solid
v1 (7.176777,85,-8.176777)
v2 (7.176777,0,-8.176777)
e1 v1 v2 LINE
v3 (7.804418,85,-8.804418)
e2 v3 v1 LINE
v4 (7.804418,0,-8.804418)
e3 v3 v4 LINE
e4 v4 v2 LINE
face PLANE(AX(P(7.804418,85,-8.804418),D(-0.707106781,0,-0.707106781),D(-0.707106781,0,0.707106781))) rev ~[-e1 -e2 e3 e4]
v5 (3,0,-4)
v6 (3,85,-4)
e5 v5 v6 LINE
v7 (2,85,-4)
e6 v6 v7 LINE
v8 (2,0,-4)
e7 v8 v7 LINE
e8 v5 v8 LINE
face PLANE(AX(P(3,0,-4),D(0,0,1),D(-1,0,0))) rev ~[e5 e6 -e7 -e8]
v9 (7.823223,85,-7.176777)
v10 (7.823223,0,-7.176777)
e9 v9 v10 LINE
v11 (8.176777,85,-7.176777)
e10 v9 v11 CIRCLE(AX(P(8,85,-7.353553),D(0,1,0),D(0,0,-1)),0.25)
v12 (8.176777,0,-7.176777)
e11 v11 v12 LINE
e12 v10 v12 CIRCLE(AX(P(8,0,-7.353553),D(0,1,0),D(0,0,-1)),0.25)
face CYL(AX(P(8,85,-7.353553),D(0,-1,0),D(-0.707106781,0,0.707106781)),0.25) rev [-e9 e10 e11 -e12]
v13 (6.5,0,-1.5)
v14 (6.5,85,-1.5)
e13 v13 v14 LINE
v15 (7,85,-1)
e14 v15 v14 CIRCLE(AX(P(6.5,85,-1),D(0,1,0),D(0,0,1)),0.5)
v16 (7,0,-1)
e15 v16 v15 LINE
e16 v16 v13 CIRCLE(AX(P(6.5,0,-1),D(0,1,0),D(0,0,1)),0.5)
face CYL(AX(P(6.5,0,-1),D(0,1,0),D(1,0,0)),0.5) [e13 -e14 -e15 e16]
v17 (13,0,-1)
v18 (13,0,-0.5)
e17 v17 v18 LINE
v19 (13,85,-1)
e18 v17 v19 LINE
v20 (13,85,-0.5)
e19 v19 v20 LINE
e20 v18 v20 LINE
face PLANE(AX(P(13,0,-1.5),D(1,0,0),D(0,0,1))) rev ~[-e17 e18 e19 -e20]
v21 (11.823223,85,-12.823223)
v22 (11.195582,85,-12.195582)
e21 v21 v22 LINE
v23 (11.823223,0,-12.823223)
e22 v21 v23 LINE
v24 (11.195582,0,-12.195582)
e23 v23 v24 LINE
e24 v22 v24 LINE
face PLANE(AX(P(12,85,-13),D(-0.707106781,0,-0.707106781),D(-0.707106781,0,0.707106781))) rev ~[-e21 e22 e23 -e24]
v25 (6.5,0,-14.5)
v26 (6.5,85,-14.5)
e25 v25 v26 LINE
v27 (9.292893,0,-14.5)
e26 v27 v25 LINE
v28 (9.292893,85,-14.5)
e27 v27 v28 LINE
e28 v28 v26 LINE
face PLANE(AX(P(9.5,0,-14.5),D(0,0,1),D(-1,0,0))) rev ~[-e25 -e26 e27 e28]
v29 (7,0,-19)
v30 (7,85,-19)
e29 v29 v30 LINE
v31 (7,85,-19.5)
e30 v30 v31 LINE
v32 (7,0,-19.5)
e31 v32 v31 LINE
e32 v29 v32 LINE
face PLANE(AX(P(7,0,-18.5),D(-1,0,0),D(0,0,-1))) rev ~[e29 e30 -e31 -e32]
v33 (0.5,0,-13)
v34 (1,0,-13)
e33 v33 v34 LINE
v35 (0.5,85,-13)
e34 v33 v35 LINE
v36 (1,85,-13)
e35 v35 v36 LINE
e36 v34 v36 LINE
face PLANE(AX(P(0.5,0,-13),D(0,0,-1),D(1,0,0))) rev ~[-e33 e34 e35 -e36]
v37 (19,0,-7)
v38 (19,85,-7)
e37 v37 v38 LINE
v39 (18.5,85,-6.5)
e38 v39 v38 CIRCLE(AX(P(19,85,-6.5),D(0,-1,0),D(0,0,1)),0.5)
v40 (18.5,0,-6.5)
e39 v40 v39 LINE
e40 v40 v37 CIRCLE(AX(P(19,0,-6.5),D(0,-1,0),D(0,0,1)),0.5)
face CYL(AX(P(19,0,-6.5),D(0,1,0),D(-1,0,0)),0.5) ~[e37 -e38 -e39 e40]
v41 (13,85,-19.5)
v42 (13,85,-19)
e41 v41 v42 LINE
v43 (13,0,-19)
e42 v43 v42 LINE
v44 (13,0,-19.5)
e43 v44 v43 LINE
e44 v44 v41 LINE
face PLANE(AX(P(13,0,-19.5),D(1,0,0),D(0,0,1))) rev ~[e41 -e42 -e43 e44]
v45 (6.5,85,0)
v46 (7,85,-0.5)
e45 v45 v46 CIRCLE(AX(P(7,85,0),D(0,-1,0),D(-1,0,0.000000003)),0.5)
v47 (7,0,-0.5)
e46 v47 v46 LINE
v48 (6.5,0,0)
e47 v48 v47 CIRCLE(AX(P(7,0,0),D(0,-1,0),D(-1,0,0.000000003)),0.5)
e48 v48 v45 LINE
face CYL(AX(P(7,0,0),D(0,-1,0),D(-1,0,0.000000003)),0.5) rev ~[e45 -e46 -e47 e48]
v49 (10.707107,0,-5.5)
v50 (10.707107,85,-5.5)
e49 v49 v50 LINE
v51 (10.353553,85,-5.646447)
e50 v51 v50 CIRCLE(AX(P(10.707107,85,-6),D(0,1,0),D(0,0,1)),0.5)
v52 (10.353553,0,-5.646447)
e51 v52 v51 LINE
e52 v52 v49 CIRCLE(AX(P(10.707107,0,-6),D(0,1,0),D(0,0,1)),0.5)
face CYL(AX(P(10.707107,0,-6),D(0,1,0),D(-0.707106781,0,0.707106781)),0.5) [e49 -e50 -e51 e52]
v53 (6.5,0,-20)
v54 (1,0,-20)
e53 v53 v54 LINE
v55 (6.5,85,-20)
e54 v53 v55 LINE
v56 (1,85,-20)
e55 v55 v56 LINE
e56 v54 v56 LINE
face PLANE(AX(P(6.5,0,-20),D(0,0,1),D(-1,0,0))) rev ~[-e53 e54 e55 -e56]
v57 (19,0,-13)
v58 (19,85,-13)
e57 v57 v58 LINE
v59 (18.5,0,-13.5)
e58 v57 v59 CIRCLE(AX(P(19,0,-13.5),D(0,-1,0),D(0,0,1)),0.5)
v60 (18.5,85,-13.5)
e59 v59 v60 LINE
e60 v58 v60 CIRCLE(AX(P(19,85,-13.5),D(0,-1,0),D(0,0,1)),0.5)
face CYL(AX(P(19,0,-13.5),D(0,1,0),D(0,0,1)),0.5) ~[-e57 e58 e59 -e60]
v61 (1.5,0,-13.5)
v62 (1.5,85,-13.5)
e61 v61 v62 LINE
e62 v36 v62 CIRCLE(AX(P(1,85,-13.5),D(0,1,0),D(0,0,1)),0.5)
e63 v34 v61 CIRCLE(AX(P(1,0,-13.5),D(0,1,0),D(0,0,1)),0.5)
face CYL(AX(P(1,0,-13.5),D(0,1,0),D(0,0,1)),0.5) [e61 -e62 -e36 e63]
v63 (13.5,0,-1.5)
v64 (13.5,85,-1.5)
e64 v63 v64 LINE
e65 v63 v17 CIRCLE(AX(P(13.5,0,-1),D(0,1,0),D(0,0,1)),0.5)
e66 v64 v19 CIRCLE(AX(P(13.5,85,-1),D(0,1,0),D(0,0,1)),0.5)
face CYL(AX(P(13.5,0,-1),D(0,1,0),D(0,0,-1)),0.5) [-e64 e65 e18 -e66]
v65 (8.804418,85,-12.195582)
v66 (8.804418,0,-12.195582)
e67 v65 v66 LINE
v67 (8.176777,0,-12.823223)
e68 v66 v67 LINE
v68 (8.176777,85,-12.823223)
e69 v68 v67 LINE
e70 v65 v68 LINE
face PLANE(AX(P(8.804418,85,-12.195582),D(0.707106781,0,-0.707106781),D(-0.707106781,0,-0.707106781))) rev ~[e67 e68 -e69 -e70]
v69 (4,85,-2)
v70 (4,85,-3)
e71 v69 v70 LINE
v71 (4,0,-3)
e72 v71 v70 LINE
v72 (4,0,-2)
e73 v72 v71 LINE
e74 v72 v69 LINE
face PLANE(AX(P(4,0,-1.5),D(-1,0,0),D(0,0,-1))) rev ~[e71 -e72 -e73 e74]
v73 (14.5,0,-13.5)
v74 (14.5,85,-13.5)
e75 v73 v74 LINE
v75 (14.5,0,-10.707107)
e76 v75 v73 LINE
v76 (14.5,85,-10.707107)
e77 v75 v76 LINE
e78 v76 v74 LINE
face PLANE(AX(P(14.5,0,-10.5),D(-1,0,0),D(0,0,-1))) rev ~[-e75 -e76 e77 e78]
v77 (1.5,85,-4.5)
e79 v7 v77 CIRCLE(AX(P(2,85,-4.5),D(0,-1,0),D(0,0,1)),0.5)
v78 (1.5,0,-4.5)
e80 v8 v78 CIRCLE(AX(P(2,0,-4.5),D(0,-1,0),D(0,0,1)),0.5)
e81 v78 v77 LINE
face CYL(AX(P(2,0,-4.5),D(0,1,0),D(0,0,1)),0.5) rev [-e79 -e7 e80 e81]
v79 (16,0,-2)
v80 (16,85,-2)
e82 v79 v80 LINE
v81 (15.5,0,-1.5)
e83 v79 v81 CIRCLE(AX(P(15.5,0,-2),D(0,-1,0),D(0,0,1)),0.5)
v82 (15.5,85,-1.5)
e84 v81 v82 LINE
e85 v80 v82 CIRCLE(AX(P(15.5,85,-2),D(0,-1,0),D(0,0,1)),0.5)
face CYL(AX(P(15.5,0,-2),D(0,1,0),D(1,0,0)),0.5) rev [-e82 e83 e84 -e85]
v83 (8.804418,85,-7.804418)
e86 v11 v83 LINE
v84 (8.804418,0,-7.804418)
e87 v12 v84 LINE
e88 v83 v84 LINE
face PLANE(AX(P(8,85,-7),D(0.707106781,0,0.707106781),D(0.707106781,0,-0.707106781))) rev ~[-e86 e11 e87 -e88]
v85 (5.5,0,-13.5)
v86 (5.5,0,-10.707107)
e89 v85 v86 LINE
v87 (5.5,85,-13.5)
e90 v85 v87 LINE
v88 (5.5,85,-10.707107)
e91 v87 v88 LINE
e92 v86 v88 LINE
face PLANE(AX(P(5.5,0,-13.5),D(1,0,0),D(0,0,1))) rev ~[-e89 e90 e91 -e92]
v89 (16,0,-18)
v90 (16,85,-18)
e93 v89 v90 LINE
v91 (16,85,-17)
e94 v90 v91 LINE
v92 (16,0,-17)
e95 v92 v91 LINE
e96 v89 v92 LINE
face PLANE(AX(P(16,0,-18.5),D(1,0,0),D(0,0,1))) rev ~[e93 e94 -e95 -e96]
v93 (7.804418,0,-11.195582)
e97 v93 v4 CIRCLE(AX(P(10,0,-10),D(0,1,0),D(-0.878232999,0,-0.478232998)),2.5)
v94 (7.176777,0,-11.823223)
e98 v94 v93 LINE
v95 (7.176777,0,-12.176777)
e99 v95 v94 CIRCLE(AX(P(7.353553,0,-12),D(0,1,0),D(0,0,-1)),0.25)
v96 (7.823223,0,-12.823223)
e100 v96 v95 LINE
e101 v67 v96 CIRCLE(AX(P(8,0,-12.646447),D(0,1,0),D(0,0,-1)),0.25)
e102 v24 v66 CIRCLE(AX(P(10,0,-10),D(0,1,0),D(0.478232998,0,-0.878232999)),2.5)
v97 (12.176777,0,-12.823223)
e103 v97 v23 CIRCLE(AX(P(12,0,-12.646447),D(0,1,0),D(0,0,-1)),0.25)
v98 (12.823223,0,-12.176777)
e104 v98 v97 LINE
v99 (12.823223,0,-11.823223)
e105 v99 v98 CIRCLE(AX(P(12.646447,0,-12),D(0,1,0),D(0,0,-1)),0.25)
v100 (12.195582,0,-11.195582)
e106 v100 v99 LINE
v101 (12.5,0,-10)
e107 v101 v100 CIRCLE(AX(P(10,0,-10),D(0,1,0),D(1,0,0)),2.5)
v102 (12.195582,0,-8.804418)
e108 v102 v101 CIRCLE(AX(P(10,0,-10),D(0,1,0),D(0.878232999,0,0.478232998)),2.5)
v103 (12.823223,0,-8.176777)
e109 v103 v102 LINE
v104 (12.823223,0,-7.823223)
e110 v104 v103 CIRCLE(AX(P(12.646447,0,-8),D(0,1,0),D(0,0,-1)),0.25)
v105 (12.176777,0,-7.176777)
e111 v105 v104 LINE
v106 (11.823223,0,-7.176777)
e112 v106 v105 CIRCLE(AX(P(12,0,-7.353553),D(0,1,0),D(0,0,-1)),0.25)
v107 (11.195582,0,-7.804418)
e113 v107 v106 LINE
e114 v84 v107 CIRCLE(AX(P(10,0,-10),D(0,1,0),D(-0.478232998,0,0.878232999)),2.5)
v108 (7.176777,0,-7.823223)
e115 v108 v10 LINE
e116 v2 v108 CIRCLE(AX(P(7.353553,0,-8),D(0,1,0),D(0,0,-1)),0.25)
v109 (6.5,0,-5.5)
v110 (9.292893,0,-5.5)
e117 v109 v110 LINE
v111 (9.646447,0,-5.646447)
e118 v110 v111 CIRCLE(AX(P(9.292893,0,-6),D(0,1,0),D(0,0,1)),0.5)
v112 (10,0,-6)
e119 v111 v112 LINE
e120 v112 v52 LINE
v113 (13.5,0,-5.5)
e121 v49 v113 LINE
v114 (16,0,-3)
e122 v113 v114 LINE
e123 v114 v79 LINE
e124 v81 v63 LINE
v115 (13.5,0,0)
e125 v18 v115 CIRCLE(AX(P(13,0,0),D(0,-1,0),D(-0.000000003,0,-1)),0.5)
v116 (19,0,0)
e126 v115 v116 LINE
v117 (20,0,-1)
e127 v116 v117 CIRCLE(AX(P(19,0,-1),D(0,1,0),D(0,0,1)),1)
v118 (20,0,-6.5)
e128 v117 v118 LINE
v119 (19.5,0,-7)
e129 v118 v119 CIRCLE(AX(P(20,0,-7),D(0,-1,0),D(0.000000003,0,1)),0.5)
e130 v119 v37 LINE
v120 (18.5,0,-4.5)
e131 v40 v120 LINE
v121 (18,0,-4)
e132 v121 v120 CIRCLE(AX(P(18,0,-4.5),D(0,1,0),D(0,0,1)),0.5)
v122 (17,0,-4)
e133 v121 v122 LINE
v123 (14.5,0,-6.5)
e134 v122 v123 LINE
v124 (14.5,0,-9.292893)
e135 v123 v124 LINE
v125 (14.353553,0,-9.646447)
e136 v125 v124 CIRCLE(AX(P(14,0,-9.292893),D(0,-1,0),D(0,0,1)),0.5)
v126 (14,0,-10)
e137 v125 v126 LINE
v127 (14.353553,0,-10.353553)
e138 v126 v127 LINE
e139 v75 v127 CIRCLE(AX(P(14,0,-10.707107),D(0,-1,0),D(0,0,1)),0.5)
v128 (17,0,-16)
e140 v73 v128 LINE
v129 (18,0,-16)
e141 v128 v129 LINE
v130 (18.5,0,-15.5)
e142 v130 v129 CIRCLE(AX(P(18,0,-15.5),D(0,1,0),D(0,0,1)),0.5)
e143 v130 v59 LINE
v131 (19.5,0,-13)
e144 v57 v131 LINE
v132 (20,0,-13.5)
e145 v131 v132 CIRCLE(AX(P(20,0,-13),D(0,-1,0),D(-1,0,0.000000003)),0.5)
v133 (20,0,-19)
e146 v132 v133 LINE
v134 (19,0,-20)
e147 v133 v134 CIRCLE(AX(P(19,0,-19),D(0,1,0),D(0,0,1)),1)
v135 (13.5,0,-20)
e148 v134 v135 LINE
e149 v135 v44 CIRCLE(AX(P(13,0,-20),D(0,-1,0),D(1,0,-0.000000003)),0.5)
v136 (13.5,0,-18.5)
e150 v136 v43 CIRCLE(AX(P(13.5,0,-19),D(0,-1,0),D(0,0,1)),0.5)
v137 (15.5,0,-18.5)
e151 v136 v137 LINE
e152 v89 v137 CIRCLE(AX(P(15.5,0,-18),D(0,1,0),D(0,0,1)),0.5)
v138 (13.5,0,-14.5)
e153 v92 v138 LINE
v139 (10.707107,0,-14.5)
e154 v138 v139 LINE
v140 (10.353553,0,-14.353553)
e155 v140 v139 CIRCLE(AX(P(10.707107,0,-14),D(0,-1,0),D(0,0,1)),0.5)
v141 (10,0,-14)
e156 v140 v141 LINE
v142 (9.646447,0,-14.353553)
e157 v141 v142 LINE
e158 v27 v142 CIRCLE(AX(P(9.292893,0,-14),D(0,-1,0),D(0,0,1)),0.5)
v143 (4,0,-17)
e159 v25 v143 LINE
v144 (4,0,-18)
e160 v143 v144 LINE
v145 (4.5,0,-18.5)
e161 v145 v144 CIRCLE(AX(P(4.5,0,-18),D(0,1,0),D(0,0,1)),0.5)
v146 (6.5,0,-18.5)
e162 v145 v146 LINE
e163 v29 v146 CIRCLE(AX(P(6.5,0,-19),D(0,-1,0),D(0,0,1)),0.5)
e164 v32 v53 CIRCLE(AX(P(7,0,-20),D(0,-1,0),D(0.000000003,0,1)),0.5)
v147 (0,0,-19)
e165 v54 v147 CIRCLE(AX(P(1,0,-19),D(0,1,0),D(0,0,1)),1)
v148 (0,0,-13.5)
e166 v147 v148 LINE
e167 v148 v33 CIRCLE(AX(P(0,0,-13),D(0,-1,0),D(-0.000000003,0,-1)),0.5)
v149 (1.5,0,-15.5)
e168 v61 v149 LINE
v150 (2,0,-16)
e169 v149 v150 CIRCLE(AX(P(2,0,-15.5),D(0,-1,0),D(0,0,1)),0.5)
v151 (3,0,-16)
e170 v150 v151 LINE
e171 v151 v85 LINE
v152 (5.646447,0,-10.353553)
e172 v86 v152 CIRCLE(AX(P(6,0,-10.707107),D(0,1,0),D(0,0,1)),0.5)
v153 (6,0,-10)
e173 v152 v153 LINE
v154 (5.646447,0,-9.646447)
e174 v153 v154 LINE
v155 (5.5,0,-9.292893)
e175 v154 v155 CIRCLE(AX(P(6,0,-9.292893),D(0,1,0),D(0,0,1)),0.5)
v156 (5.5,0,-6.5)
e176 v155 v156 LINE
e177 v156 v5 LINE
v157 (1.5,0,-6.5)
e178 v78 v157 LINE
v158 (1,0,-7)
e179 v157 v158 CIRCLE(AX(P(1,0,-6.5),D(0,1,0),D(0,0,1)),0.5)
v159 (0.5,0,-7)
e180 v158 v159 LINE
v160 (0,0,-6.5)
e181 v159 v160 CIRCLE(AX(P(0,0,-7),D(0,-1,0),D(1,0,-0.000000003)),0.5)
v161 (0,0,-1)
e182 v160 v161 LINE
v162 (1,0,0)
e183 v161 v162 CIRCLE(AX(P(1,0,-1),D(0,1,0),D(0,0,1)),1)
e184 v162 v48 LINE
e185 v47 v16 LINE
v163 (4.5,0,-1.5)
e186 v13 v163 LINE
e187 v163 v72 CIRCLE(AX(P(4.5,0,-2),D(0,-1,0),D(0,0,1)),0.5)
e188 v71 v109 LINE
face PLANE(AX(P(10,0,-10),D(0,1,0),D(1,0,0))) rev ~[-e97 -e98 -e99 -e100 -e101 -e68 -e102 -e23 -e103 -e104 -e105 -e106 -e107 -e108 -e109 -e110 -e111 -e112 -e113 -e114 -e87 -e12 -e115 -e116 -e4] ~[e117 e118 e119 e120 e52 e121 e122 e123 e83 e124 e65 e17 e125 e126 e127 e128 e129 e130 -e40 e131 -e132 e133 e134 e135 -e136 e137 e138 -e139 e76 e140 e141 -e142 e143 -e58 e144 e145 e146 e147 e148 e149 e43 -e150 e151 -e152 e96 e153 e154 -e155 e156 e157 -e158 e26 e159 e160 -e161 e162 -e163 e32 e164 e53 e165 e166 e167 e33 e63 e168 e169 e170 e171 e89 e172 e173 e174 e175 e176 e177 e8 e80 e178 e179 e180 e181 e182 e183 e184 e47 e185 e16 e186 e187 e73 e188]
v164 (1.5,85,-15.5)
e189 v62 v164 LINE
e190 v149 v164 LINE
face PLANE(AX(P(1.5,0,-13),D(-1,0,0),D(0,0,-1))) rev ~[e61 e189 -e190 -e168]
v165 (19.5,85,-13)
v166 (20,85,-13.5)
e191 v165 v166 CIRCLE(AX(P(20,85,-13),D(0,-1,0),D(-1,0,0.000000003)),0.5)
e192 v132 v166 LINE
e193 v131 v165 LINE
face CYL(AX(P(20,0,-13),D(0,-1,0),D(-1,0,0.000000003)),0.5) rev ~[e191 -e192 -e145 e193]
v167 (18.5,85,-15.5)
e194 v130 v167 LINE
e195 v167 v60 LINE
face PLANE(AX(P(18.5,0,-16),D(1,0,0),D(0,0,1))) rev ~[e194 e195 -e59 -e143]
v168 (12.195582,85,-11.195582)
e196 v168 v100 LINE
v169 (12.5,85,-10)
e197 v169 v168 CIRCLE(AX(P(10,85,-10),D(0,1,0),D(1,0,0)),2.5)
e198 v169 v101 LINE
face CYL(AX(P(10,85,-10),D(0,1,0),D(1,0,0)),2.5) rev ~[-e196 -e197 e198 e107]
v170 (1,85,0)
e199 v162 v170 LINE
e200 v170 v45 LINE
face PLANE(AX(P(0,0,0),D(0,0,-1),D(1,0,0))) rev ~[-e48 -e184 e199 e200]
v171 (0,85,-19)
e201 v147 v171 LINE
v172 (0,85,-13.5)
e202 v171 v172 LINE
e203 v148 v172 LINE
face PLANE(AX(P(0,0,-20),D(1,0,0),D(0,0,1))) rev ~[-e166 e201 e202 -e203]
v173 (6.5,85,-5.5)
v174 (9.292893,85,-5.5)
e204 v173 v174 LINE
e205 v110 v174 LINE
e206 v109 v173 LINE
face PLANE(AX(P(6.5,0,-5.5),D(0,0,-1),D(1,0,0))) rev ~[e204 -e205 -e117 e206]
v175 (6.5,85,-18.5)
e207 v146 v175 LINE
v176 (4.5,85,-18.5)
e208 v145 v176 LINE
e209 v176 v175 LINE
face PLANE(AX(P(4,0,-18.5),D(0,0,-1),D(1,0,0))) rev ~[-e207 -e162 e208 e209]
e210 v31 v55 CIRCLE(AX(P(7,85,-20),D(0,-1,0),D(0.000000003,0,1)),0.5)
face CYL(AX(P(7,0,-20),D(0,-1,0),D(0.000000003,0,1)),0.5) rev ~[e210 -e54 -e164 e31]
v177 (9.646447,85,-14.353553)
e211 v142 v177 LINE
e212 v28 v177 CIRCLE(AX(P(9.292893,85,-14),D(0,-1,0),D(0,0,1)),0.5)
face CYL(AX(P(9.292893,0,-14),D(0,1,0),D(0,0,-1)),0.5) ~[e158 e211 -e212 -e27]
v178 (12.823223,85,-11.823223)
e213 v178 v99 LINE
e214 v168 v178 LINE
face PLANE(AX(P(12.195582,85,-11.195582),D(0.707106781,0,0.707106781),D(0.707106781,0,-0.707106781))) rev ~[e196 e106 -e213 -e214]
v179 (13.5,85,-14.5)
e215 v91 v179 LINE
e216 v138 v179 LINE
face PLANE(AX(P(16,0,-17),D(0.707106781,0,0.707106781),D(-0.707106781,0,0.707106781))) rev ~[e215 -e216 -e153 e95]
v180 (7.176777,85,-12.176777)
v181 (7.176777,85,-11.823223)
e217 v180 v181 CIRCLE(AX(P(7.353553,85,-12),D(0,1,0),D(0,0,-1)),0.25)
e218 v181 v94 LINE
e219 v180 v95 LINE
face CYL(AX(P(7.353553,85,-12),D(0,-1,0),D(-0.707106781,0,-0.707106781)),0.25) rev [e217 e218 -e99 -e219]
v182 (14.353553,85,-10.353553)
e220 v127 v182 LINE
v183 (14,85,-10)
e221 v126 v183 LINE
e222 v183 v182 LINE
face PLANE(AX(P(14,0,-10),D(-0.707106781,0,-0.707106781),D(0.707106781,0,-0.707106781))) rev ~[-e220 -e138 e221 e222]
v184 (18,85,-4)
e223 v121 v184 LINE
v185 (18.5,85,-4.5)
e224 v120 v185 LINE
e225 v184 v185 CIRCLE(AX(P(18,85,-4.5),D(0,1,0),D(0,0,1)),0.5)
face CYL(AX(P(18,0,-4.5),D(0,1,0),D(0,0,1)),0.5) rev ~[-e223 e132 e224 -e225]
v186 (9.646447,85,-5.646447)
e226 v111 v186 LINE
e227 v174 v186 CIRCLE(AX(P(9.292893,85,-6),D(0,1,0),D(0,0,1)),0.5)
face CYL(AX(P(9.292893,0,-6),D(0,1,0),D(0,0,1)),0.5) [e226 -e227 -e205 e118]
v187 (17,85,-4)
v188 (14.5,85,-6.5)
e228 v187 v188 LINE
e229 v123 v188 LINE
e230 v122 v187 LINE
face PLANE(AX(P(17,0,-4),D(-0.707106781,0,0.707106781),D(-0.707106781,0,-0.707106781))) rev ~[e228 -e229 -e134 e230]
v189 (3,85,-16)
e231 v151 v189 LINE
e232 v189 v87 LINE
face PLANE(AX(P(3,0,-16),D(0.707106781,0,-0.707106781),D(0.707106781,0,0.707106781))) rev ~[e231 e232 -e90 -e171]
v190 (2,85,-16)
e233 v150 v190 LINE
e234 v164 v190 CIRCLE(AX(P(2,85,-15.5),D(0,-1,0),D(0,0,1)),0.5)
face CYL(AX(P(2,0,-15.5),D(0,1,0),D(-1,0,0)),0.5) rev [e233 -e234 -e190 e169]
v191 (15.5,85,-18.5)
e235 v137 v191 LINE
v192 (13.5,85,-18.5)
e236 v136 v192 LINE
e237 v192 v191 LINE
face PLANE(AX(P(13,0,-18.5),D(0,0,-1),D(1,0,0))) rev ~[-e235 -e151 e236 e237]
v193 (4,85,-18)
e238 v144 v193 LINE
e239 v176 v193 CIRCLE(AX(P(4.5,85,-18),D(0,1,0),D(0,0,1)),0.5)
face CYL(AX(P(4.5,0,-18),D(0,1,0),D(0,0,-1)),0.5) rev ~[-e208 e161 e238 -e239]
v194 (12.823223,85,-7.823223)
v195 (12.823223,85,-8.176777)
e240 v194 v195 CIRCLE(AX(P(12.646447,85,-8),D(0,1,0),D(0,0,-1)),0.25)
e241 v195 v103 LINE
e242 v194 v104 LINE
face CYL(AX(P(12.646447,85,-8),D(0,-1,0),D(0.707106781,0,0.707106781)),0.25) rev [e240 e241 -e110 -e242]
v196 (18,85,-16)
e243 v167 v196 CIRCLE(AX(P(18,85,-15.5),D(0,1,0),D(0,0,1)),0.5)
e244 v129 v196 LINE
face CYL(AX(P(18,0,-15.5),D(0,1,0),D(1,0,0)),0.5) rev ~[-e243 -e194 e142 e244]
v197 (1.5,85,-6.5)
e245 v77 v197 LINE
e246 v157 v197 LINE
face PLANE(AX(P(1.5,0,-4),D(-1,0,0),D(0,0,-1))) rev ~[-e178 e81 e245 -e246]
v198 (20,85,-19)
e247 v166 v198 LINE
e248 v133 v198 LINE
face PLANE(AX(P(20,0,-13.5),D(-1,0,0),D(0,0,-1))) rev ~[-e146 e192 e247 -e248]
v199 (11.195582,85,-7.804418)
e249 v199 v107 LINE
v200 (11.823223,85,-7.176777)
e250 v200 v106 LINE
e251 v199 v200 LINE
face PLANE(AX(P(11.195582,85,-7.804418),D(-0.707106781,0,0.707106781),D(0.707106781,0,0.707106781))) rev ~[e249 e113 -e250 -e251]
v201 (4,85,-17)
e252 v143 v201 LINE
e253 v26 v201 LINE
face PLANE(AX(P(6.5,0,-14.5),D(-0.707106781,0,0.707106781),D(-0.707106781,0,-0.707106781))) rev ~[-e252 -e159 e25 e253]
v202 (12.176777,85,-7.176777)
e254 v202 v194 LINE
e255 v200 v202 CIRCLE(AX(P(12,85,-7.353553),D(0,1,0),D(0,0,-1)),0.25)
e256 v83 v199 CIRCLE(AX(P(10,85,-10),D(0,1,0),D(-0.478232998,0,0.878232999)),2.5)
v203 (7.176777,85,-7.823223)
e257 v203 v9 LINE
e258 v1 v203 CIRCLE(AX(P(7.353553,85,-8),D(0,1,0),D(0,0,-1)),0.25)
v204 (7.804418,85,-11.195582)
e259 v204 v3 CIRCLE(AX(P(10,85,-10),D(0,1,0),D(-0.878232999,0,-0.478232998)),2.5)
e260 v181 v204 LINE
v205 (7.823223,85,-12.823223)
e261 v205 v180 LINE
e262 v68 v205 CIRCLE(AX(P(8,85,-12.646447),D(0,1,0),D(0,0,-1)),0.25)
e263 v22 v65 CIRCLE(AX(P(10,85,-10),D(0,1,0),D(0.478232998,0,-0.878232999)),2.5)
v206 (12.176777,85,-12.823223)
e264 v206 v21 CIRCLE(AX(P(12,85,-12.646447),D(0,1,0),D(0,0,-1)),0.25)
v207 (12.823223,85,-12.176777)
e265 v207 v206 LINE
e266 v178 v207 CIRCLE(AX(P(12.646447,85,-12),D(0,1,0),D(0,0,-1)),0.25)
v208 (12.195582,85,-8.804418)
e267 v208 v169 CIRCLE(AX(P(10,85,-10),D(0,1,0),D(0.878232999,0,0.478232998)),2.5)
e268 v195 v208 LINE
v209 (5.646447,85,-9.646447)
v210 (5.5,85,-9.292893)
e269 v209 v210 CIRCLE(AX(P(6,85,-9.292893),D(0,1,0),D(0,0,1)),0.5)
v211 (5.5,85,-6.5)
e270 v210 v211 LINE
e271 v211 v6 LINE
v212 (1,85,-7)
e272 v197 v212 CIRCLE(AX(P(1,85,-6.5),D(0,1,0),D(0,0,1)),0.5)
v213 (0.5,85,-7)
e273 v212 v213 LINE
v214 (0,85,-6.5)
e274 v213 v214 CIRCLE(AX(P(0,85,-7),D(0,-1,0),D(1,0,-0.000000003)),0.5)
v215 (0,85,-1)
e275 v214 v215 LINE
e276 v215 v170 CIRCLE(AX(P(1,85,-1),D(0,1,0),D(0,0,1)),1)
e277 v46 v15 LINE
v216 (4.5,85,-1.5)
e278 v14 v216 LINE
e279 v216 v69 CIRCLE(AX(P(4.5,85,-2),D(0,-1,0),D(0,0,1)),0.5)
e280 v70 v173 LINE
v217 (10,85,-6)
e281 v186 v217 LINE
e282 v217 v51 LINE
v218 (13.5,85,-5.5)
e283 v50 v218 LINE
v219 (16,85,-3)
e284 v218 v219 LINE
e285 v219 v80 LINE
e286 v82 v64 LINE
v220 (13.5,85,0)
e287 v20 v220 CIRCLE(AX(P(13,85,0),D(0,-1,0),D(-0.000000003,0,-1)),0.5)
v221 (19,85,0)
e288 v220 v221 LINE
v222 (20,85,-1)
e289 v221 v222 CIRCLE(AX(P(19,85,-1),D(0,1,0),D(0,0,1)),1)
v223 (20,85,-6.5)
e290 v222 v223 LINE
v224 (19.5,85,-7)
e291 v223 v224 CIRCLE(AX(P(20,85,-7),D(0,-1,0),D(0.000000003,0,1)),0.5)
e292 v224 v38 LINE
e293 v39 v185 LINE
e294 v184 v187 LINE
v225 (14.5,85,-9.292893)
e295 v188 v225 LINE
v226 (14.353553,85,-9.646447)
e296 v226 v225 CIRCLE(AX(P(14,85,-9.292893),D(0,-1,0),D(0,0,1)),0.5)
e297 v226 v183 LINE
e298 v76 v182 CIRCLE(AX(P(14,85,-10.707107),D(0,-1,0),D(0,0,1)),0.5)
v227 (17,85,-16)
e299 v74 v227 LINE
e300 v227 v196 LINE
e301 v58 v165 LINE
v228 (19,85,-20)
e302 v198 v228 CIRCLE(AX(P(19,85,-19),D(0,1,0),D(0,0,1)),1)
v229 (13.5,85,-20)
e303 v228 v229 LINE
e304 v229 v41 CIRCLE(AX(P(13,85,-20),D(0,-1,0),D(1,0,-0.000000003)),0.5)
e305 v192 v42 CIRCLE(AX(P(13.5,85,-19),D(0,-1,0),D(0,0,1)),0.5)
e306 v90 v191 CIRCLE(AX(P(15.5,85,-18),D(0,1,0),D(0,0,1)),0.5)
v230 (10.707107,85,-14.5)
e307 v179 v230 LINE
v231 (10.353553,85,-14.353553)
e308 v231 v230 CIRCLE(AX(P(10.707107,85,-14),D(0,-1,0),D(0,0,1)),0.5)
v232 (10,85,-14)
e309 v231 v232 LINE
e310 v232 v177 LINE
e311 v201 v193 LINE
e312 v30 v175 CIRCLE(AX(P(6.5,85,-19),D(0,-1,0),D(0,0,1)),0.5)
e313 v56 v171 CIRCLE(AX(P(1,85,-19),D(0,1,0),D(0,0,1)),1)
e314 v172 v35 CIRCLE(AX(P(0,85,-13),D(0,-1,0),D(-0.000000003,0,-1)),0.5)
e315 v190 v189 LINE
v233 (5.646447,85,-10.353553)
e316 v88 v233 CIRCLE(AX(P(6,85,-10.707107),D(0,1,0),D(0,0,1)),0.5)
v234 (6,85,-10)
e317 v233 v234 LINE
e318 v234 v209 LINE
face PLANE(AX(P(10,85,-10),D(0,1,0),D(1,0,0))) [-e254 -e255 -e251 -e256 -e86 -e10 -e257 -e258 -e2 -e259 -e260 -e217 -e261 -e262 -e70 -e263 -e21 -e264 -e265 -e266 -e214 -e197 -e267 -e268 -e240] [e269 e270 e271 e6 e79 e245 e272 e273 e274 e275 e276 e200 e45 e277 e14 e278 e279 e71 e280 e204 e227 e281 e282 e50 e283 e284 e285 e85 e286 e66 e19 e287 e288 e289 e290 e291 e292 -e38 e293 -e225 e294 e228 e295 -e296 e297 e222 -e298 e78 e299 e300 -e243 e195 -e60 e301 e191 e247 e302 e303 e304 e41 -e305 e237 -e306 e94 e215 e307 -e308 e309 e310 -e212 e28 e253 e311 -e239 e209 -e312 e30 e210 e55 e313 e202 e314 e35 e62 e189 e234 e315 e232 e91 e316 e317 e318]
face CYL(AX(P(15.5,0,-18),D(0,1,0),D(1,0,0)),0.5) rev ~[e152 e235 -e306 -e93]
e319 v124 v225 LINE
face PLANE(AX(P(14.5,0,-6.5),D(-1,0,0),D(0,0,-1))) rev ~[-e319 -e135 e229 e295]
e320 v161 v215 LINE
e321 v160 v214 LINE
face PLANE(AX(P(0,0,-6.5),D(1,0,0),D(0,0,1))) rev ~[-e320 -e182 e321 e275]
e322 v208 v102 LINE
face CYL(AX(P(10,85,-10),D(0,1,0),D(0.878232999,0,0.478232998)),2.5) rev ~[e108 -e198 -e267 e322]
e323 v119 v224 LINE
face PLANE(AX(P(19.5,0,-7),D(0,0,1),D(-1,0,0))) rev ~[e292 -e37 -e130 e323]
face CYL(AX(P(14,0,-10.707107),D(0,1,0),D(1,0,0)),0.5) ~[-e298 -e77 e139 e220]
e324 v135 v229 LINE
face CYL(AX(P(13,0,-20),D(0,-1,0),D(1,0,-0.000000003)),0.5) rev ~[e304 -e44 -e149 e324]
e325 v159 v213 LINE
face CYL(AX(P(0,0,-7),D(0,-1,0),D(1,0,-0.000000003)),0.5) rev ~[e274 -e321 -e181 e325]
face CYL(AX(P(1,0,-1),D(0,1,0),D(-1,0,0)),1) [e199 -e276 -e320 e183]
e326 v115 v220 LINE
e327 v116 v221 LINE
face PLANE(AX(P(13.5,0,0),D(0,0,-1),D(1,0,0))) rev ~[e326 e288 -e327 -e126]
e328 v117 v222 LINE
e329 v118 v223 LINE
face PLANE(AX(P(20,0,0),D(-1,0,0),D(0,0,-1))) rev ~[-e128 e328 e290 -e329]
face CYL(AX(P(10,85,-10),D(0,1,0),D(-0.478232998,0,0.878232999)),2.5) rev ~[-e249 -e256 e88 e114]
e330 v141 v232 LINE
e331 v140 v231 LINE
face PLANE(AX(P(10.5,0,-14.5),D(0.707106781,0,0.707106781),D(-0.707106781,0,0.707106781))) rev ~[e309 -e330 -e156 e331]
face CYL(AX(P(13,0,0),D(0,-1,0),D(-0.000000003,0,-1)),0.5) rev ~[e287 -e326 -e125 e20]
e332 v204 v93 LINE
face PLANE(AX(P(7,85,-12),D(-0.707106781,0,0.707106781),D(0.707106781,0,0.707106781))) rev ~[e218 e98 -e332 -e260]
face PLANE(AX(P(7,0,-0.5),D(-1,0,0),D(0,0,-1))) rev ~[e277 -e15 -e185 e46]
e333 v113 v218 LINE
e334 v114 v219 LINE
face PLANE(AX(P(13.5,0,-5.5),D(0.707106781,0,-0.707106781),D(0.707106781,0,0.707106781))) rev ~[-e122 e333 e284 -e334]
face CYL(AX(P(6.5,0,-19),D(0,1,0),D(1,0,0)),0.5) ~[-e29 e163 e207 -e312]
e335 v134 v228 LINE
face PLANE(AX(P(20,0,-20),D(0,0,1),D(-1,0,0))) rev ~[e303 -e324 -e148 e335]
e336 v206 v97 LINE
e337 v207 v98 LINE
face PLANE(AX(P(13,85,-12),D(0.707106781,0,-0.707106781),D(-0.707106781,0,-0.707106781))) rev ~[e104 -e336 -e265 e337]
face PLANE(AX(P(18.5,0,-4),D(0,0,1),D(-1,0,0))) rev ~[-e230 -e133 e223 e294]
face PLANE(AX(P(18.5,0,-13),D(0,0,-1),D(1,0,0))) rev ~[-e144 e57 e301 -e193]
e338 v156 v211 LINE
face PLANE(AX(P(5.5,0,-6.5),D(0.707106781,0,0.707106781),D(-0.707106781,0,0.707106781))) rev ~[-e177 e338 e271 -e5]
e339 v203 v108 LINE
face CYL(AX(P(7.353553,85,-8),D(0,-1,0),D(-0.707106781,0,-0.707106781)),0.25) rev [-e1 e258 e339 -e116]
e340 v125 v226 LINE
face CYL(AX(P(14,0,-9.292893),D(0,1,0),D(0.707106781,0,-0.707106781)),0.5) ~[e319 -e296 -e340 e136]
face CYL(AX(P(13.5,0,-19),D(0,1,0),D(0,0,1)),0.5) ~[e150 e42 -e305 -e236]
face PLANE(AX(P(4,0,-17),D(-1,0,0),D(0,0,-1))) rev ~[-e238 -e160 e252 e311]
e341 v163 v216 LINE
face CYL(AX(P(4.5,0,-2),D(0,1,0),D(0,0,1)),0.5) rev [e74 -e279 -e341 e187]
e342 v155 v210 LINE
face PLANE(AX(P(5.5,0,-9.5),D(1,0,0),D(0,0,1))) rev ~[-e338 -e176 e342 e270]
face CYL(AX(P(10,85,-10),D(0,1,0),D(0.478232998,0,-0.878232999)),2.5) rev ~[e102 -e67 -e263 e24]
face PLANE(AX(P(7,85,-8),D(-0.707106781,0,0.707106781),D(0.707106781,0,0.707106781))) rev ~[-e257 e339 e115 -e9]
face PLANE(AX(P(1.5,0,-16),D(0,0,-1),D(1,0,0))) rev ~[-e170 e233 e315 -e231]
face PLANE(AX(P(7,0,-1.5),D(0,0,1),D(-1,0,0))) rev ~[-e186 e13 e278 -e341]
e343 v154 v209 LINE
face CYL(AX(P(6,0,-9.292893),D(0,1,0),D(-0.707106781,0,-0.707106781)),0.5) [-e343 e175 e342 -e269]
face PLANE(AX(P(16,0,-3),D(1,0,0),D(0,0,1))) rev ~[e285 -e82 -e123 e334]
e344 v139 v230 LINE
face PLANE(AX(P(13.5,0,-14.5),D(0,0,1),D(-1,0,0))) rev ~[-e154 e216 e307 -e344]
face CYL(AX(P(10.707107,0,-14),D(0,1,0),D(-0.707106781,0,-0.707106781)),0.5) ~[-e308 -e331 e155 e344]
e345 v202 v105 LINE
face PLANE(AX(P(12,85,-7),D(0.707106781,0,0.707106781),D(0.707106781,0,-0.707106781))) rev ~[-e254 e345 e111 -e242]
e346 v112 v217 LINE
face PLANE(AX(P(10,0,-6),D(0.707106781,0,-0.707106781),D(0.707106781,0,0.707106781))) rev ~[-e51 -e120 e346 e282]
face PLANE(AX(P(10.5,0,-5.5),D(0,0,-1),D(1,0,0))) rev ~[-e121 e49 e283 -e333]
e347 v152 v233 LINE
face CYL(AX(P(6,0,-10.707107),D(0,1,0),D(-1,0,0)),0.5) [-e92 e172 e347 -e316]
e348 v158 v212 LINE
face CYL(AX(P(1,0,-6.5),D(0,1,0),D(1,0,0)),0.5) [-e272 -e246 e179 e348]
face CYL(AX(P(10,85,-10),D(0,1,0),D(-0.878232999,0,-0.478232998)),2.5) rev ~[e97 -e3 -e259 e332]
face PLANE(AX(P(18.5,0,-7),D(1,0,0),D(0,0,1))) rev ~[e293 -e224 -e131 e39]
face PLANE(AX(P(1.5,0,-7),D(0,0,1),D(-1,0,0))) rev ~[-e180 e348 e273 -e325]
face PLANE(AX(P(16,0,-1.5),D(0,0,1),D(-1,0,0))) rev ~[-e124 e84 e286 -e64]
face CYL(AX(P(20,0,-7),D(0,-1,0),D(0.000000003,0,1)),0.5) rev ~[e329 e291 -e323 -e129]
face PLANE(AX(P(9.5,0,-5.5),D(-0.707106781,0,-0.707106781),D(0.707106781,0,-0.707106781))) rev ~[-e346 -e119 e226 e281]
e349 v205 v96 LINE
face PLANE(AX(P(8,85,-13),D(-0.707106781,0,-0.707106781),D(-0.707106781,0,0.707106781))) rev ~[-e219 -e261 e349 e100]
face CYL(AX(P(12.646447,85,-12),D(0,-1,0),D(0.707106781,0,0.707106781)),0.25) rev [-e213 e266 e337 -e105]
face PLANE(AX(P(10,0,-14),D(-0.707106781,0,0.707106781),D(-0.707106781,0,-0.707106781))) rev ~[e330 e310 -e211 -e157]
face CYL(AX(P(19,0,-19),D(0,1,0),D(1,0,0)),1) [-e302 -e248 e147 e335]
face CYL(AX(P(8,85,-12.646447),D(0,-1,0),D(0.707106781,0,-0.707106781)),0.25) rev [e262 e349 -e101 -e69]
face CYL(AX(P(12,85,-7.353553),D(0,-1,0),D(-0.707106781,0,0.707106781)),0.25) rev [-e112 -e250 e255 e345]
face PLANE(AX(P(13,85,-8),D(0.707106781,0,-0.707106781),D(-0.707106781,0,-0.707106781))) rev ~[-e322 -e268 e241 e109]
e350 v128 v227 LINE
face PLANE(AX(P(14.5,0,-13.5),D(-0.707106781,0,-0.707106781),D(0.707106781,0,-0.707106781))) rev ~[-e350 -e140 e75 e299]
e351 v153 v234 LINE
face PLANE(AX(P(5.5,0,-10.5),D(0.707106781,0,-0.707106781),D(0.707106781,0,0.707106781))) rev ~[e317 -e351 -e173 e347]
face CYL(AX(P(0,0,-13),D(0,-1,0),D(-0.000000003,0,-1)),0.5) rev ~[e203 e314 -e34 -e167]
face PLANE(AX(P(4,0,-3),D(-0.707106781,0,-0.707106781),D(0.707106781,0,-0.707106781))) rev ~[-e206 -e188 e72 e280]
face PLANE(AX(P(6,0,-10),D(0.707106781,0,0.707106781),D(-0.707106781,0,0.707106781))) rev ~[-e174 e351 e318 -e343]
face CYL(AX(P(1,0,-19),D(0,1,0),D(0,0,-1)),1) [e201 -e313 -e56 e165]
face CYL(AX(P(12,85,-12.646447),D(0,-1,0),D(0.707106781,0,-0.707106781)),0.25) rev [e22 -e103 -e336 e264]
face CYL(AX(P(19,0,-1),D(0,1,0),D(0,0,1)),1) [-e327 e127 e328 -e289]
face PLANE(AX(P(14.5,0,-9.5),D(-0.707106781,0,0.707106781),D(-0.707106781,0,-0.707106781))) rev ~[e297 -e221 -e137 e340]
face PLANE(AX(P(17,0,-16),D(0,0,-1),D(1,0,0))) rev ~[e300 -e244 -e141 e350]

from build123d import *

# Parameters (mm, degrees)
BOSS_EXTRUDE1_DEPTH = 85
FILLET1_R           = 1
CUT_EXTRUDE1_DEPTH  = 86
FILLET2_R           = 0.5
FILLET3_R           = 0.25


with BuildPart() as part:
    # Sketch3 → Boss-Extrude1 (new body)
    with BuildSketch(Plane(origin=(0, 0, 0), x_dir=(1, 0, 0), z_dir=(0, 1, 0))):
        with BuildLine():
            Line((7, 18.5), (7, 19.5))
            ThreePointArc((7, 19.5), (6.646446609, 19.646446609), (6.5, 20))
            Line((6.5, 20), (0, 20))
            Line((0, 20), (0, 13.5))
            ThreePointArc((0, 13.5), (0.353553391, 13.353553391), (0.5, 13))
            Line((0.5, 13), (1.5, 13))
            Line((1.5, 13), (1.5, 16))
            Line((1.5, 16), (3, 16))
            Line((3, 16), (5.5, 13.5))
            Line((5.5, 13.5), (5.5, 10.5))
            Line((5.5, 10.5), (6, 10))
            Line((6, 10), (5.5, 9.5))
            Line((5.5, 9.5), (5.5, 6.5))
            Line((5.5, 6.5), (3, 4))
            Line((3, 4), (1.5, 4))
            Line((1.5, 4), (1.5, 7))
            Line((1.5, 7), (0.5, 7))
            ThreePointArc((0.5, 7), (0.353553391, 6.646446609), (0, 6.5))
            Line((0, 6.5), (0, 0))
            Line((0, 0), (6.5, 0))
            ThreePointArc((6.5, 0), (6.646446609, 0.353553391), (7, 0.5))
            Line((7, 0.5), (7, 1.5))
            Line((7, 1.5), (4, 1.5))
            Line((4, 1.5), (4, 3))
            Line((4, 3), (6.5, 5.5))
            Line((6.5, 5.5), (9.5, 5.5))
            Line((9.5, 5.5), (10, 6))
            Line((10, 6), (10.5, 5.5))
            Line((10.5, 5.5), (13.5, 5.5))
            Line((13.5, 5.5), (16, 3))
            Line((16, 3), (16, 1.5))
            Line((16, 1.5), (13, 1.5))
            Line((13, 1.5), (13, 0.5))
            ThreePointArc((13, 0.5), (13.353553391, 0.353553391), (13.5, 0))
            Line((13.5, 0), (20, 0))
            Line((20, 0), (20, 6.5))
            ThreePointArc((20, 6.5), (19.646446609, 6.646446609), (19.5, 7))
            Line((19.5, 7), (18.5, 7))
            Line((18.5, 7), (18.5, 4))
            Line((18.5, 4), (17, 4))
            Line((17, 4), (14.5, 6.5))
            Line((14.5, 6.5), (14.5, 9.5))
            Line((14.5, 9.5), (14, 10))
            Line((14, 10), (14.5, 10.5))
            Line((14.5, 10.5), (14.5, 13.5))
            Line((14.5, 13.5), (17, 16))
            Line((17, 16), (18.5, 16))
            Line((18.5, 16), (18.5, 13))
            Line((18.5, 13), (19.5, 13))
            ThreePointArc((19.5, 13), (19.646446609, 13.353553391), (20, 13.5))
            Line((20, 13.5), (20, 20))
            Line((20, 20), (13.5, 20))
            ThreePointArc((13.5, 20), (13.353553391, 19.646446609), (13, 19.5))
            Line((13, 19.5), (13, 18.5))
            Line((13, 18.5), (16, 18.5))
            Line((16, 18.5), (16, 17))
            Line((16, 17), (13.5, 14.5))
            Line((13.5, 14.5), (10.5, 14.5))
            Line((10.5, 14.5), (10, 14))
            Line((10, 14), (9.5, 14.5))
            Line((9.5, 14.5), (6.5, 14.5))
            Line((6.5, 14.5), (4, 17))
            Line((4, 17), (4, 18.5))
            Line((4, 18.5), (7, 18.5))
        make_face()
    extrude(amount=BOSS_EXTRUDE1_DEPTH)

    # Fillet1
    fillet1_edges = [part.edges().sort_by_distance(p)[0] for p in [
        (20, 42.5, 0),
        (0, 42.5, 0),
        (0, 42.5, -20),
        (20, 42.5, -20),
    ]]
    fillet(fillet1_edges, radius=FILLET1_R)

    # Sketch4 → Cut-Extrude1 (cut, through all)
    with BuildSketch(Plane(origin=(0, 85, 0), x_dir=(1, 0, 0), z_dir=(0, 1, 0))):
        with BuildLine():
            Line((10, 11), (11.195582496, 12.195582496))
            ThreePointArc((11.195582496, 12.195582496), (10, 12.5), (8.804417504, 12.195582496))
            Line((8.804417504, 12.195582496), (10, 11))
        make_face()
        with BuildLine():
            ThreePointArc((12.195582496, 11.195582496), (11.767766953, 11.767766953), (11.195582496, 12.195582496))
            Line((11.195582496, 12.195582496), (10, 11))
            Line((10, 11), (11, 10))
            Line((11, 10), (12.195582496, 11.195582496))
        make_face()
        with BuildLine():
            Line((9, 10), (10, 11))
            Line((10, 11), (8.804417504, 12.195582496))
            ThreePointArc((8.804417504, 12.195582496), (8.232233047, 11.767766953), (7.804417504, 11.195582496))
            Line((7.804417504, 11.195582496), (9, 10))
        make_face()
        Polygon((11, 10), (10, 11), (9, 10), (10, 9), align=None)
        with BuildLine():
            Line((7.804417504, 8.804417504), (9, 10))
            Line((9, 10), (7.804417504, 11.195582496))
            ThreePointArc((7.804417504, 11.195582496), (7.5, 10), (7.804417504, 8.804417504))
        make_face()
        with BuildLine():
            Line((10, 9), (9, 10))
            Line((9, 10), (7.804417504, 8.804417504))
            ThreePointArc((7.804417504, 8.804417504), (8.232233047, 8.232233047), (8.804417504, 7.804417504))
            Line((8.804417504, 7.804417504), (10, 9))
        make_face()
        with BuildLine():
            Line((11.195582496, 7.804417504), (10, 9))
            Line((10, 9), (8.804417504, 7.804417504))
            ThreePointArc((8.804417504, 7.804417504), (10, 7.5), (11.195582496, 7.804417504))
        make_face()
        with BuildLine():
            Line((12.195582496, 8.804417504), (11, 10))
            Line((11, 10), (10, 9))
            Line((10, 9), (11.195582496, 7.804417504))
            ThreePointArc((11.195582496, 7.804417504), (11.767766953, 8.232233047), (12.195582496, 8.804417504))
        make_face()
        with BuildLine():
            ThreePointArc((12.5, 10), (12.422700584, 10.616864556), (12.195582496, 11.195582496))
            Line((12.195582496, 11.195582496), (11, 10))
            Line((11, 10), (12.195582496, 8.804417504))
            ThreePointArc((12.195582496, 8.804417504), (12.422700584, 9.383135444), (12.5, 10))
        make_face()
        with BuildLine():
            ThreePointArc((8.804417504, 7.804417504), (8.232233047, 8.232233047), (7.804417504, 8.804417504))
            Line((7.804417504, 8.804417504), (7, 8))
            Line((7, 8), (8, 7))
            Line((8, 7), (8.804417504, 7.804417504))
        make_face()
        with BuildLine():
            Line((13, 8), (12.195582496, 8.804417504))
            ThreePointArc((12.195582496, 8.804417504), (11.767766953, 8.232233047), (11.195582496, 7.804417504))
            Line((11.195582496, 7.804417504), (12, 7))
            Line((12, 7), (13, 8))
        make_face()
        with BuildLine():
            Line((13, 12), (12, 13))
            Line((12, 13), (11.195582496, 12.195582496))
            ThreePointArc((11.195582496, 12.195582496), (11.767766953, 11.767766953), (12.195582496, 11.195582496))
            Line((12.195582496, 11.195582496), (13, 12))
        make_face()
        with BuildLine():
            ThreePointArc((7.804417504, 11.195582496), (8.232233047, 11.767766953), (8.804417504, 12.195582496))
            Line((8.804417504, 12.195582496), (8, 13))
            Line((8, 13), (7, 12))
            Line((7, 12), (7.804417504, 11.195582496))
        make_face()
    extrude(amount=-CUT_EXTRUDE1_DEPTH, mode=Mode.SUBTRACT)

    # Fillet2
    fillet2_edges = [part.edges().sort_by_distance(p)[0] for p in [
        (18.5, 42.5, -13),
        (18.5, 42.5, -16),
        (14.5, 42.5, -10.5),
        (14.5, 42.5, -9.5),
        (18.5, 42.5, -4),
        (18.5, 42.5, -7),
        (13, 42.5, -1.5),
        (16, 42.5, -1.5),
        (10.5, 42.5, -5.5),
        (9.5, 42.5, -5.5),
        (4, 42.5, -1.5),
        (7, 42.5, -1.5),
        (1.5, 42.5, -7),
        (1.5, 42.5, -4),
        (5.5, 42.5, -9.5),
        (5.5, 42.5, -10.5),
        (1.5, 42.5, -16),
        (1.5, 42.5, -13),
        (7, 42.5, -18.5),
        (4, 42.5, -18.5),
        (9.5, 42.5, -14.5),
        (10.5, 42.5, -14.5),
        (16, 42.5, -18.5),
        (13, 42.5, -18.5),
    ]]
    fillet(fillet2_edges, radius=FILLET2_R)

    # Fillet3
    fillet3_edges = [part.edges().sort_by_distance(p)[0] for p in [
        (7, 42.5, -12),
        (8, 42.5, -13),
        (12, 42.5, -13),
        (13, 42.5, -12),
        (13, 42.5, -8),
        (12, 42.5, -7),
        (8, 42.5, -7),
        (7, 42.5, -8),
    ]]
    fillet(fillet3_edges, radius=FILLET3_R)


solid = part.part
